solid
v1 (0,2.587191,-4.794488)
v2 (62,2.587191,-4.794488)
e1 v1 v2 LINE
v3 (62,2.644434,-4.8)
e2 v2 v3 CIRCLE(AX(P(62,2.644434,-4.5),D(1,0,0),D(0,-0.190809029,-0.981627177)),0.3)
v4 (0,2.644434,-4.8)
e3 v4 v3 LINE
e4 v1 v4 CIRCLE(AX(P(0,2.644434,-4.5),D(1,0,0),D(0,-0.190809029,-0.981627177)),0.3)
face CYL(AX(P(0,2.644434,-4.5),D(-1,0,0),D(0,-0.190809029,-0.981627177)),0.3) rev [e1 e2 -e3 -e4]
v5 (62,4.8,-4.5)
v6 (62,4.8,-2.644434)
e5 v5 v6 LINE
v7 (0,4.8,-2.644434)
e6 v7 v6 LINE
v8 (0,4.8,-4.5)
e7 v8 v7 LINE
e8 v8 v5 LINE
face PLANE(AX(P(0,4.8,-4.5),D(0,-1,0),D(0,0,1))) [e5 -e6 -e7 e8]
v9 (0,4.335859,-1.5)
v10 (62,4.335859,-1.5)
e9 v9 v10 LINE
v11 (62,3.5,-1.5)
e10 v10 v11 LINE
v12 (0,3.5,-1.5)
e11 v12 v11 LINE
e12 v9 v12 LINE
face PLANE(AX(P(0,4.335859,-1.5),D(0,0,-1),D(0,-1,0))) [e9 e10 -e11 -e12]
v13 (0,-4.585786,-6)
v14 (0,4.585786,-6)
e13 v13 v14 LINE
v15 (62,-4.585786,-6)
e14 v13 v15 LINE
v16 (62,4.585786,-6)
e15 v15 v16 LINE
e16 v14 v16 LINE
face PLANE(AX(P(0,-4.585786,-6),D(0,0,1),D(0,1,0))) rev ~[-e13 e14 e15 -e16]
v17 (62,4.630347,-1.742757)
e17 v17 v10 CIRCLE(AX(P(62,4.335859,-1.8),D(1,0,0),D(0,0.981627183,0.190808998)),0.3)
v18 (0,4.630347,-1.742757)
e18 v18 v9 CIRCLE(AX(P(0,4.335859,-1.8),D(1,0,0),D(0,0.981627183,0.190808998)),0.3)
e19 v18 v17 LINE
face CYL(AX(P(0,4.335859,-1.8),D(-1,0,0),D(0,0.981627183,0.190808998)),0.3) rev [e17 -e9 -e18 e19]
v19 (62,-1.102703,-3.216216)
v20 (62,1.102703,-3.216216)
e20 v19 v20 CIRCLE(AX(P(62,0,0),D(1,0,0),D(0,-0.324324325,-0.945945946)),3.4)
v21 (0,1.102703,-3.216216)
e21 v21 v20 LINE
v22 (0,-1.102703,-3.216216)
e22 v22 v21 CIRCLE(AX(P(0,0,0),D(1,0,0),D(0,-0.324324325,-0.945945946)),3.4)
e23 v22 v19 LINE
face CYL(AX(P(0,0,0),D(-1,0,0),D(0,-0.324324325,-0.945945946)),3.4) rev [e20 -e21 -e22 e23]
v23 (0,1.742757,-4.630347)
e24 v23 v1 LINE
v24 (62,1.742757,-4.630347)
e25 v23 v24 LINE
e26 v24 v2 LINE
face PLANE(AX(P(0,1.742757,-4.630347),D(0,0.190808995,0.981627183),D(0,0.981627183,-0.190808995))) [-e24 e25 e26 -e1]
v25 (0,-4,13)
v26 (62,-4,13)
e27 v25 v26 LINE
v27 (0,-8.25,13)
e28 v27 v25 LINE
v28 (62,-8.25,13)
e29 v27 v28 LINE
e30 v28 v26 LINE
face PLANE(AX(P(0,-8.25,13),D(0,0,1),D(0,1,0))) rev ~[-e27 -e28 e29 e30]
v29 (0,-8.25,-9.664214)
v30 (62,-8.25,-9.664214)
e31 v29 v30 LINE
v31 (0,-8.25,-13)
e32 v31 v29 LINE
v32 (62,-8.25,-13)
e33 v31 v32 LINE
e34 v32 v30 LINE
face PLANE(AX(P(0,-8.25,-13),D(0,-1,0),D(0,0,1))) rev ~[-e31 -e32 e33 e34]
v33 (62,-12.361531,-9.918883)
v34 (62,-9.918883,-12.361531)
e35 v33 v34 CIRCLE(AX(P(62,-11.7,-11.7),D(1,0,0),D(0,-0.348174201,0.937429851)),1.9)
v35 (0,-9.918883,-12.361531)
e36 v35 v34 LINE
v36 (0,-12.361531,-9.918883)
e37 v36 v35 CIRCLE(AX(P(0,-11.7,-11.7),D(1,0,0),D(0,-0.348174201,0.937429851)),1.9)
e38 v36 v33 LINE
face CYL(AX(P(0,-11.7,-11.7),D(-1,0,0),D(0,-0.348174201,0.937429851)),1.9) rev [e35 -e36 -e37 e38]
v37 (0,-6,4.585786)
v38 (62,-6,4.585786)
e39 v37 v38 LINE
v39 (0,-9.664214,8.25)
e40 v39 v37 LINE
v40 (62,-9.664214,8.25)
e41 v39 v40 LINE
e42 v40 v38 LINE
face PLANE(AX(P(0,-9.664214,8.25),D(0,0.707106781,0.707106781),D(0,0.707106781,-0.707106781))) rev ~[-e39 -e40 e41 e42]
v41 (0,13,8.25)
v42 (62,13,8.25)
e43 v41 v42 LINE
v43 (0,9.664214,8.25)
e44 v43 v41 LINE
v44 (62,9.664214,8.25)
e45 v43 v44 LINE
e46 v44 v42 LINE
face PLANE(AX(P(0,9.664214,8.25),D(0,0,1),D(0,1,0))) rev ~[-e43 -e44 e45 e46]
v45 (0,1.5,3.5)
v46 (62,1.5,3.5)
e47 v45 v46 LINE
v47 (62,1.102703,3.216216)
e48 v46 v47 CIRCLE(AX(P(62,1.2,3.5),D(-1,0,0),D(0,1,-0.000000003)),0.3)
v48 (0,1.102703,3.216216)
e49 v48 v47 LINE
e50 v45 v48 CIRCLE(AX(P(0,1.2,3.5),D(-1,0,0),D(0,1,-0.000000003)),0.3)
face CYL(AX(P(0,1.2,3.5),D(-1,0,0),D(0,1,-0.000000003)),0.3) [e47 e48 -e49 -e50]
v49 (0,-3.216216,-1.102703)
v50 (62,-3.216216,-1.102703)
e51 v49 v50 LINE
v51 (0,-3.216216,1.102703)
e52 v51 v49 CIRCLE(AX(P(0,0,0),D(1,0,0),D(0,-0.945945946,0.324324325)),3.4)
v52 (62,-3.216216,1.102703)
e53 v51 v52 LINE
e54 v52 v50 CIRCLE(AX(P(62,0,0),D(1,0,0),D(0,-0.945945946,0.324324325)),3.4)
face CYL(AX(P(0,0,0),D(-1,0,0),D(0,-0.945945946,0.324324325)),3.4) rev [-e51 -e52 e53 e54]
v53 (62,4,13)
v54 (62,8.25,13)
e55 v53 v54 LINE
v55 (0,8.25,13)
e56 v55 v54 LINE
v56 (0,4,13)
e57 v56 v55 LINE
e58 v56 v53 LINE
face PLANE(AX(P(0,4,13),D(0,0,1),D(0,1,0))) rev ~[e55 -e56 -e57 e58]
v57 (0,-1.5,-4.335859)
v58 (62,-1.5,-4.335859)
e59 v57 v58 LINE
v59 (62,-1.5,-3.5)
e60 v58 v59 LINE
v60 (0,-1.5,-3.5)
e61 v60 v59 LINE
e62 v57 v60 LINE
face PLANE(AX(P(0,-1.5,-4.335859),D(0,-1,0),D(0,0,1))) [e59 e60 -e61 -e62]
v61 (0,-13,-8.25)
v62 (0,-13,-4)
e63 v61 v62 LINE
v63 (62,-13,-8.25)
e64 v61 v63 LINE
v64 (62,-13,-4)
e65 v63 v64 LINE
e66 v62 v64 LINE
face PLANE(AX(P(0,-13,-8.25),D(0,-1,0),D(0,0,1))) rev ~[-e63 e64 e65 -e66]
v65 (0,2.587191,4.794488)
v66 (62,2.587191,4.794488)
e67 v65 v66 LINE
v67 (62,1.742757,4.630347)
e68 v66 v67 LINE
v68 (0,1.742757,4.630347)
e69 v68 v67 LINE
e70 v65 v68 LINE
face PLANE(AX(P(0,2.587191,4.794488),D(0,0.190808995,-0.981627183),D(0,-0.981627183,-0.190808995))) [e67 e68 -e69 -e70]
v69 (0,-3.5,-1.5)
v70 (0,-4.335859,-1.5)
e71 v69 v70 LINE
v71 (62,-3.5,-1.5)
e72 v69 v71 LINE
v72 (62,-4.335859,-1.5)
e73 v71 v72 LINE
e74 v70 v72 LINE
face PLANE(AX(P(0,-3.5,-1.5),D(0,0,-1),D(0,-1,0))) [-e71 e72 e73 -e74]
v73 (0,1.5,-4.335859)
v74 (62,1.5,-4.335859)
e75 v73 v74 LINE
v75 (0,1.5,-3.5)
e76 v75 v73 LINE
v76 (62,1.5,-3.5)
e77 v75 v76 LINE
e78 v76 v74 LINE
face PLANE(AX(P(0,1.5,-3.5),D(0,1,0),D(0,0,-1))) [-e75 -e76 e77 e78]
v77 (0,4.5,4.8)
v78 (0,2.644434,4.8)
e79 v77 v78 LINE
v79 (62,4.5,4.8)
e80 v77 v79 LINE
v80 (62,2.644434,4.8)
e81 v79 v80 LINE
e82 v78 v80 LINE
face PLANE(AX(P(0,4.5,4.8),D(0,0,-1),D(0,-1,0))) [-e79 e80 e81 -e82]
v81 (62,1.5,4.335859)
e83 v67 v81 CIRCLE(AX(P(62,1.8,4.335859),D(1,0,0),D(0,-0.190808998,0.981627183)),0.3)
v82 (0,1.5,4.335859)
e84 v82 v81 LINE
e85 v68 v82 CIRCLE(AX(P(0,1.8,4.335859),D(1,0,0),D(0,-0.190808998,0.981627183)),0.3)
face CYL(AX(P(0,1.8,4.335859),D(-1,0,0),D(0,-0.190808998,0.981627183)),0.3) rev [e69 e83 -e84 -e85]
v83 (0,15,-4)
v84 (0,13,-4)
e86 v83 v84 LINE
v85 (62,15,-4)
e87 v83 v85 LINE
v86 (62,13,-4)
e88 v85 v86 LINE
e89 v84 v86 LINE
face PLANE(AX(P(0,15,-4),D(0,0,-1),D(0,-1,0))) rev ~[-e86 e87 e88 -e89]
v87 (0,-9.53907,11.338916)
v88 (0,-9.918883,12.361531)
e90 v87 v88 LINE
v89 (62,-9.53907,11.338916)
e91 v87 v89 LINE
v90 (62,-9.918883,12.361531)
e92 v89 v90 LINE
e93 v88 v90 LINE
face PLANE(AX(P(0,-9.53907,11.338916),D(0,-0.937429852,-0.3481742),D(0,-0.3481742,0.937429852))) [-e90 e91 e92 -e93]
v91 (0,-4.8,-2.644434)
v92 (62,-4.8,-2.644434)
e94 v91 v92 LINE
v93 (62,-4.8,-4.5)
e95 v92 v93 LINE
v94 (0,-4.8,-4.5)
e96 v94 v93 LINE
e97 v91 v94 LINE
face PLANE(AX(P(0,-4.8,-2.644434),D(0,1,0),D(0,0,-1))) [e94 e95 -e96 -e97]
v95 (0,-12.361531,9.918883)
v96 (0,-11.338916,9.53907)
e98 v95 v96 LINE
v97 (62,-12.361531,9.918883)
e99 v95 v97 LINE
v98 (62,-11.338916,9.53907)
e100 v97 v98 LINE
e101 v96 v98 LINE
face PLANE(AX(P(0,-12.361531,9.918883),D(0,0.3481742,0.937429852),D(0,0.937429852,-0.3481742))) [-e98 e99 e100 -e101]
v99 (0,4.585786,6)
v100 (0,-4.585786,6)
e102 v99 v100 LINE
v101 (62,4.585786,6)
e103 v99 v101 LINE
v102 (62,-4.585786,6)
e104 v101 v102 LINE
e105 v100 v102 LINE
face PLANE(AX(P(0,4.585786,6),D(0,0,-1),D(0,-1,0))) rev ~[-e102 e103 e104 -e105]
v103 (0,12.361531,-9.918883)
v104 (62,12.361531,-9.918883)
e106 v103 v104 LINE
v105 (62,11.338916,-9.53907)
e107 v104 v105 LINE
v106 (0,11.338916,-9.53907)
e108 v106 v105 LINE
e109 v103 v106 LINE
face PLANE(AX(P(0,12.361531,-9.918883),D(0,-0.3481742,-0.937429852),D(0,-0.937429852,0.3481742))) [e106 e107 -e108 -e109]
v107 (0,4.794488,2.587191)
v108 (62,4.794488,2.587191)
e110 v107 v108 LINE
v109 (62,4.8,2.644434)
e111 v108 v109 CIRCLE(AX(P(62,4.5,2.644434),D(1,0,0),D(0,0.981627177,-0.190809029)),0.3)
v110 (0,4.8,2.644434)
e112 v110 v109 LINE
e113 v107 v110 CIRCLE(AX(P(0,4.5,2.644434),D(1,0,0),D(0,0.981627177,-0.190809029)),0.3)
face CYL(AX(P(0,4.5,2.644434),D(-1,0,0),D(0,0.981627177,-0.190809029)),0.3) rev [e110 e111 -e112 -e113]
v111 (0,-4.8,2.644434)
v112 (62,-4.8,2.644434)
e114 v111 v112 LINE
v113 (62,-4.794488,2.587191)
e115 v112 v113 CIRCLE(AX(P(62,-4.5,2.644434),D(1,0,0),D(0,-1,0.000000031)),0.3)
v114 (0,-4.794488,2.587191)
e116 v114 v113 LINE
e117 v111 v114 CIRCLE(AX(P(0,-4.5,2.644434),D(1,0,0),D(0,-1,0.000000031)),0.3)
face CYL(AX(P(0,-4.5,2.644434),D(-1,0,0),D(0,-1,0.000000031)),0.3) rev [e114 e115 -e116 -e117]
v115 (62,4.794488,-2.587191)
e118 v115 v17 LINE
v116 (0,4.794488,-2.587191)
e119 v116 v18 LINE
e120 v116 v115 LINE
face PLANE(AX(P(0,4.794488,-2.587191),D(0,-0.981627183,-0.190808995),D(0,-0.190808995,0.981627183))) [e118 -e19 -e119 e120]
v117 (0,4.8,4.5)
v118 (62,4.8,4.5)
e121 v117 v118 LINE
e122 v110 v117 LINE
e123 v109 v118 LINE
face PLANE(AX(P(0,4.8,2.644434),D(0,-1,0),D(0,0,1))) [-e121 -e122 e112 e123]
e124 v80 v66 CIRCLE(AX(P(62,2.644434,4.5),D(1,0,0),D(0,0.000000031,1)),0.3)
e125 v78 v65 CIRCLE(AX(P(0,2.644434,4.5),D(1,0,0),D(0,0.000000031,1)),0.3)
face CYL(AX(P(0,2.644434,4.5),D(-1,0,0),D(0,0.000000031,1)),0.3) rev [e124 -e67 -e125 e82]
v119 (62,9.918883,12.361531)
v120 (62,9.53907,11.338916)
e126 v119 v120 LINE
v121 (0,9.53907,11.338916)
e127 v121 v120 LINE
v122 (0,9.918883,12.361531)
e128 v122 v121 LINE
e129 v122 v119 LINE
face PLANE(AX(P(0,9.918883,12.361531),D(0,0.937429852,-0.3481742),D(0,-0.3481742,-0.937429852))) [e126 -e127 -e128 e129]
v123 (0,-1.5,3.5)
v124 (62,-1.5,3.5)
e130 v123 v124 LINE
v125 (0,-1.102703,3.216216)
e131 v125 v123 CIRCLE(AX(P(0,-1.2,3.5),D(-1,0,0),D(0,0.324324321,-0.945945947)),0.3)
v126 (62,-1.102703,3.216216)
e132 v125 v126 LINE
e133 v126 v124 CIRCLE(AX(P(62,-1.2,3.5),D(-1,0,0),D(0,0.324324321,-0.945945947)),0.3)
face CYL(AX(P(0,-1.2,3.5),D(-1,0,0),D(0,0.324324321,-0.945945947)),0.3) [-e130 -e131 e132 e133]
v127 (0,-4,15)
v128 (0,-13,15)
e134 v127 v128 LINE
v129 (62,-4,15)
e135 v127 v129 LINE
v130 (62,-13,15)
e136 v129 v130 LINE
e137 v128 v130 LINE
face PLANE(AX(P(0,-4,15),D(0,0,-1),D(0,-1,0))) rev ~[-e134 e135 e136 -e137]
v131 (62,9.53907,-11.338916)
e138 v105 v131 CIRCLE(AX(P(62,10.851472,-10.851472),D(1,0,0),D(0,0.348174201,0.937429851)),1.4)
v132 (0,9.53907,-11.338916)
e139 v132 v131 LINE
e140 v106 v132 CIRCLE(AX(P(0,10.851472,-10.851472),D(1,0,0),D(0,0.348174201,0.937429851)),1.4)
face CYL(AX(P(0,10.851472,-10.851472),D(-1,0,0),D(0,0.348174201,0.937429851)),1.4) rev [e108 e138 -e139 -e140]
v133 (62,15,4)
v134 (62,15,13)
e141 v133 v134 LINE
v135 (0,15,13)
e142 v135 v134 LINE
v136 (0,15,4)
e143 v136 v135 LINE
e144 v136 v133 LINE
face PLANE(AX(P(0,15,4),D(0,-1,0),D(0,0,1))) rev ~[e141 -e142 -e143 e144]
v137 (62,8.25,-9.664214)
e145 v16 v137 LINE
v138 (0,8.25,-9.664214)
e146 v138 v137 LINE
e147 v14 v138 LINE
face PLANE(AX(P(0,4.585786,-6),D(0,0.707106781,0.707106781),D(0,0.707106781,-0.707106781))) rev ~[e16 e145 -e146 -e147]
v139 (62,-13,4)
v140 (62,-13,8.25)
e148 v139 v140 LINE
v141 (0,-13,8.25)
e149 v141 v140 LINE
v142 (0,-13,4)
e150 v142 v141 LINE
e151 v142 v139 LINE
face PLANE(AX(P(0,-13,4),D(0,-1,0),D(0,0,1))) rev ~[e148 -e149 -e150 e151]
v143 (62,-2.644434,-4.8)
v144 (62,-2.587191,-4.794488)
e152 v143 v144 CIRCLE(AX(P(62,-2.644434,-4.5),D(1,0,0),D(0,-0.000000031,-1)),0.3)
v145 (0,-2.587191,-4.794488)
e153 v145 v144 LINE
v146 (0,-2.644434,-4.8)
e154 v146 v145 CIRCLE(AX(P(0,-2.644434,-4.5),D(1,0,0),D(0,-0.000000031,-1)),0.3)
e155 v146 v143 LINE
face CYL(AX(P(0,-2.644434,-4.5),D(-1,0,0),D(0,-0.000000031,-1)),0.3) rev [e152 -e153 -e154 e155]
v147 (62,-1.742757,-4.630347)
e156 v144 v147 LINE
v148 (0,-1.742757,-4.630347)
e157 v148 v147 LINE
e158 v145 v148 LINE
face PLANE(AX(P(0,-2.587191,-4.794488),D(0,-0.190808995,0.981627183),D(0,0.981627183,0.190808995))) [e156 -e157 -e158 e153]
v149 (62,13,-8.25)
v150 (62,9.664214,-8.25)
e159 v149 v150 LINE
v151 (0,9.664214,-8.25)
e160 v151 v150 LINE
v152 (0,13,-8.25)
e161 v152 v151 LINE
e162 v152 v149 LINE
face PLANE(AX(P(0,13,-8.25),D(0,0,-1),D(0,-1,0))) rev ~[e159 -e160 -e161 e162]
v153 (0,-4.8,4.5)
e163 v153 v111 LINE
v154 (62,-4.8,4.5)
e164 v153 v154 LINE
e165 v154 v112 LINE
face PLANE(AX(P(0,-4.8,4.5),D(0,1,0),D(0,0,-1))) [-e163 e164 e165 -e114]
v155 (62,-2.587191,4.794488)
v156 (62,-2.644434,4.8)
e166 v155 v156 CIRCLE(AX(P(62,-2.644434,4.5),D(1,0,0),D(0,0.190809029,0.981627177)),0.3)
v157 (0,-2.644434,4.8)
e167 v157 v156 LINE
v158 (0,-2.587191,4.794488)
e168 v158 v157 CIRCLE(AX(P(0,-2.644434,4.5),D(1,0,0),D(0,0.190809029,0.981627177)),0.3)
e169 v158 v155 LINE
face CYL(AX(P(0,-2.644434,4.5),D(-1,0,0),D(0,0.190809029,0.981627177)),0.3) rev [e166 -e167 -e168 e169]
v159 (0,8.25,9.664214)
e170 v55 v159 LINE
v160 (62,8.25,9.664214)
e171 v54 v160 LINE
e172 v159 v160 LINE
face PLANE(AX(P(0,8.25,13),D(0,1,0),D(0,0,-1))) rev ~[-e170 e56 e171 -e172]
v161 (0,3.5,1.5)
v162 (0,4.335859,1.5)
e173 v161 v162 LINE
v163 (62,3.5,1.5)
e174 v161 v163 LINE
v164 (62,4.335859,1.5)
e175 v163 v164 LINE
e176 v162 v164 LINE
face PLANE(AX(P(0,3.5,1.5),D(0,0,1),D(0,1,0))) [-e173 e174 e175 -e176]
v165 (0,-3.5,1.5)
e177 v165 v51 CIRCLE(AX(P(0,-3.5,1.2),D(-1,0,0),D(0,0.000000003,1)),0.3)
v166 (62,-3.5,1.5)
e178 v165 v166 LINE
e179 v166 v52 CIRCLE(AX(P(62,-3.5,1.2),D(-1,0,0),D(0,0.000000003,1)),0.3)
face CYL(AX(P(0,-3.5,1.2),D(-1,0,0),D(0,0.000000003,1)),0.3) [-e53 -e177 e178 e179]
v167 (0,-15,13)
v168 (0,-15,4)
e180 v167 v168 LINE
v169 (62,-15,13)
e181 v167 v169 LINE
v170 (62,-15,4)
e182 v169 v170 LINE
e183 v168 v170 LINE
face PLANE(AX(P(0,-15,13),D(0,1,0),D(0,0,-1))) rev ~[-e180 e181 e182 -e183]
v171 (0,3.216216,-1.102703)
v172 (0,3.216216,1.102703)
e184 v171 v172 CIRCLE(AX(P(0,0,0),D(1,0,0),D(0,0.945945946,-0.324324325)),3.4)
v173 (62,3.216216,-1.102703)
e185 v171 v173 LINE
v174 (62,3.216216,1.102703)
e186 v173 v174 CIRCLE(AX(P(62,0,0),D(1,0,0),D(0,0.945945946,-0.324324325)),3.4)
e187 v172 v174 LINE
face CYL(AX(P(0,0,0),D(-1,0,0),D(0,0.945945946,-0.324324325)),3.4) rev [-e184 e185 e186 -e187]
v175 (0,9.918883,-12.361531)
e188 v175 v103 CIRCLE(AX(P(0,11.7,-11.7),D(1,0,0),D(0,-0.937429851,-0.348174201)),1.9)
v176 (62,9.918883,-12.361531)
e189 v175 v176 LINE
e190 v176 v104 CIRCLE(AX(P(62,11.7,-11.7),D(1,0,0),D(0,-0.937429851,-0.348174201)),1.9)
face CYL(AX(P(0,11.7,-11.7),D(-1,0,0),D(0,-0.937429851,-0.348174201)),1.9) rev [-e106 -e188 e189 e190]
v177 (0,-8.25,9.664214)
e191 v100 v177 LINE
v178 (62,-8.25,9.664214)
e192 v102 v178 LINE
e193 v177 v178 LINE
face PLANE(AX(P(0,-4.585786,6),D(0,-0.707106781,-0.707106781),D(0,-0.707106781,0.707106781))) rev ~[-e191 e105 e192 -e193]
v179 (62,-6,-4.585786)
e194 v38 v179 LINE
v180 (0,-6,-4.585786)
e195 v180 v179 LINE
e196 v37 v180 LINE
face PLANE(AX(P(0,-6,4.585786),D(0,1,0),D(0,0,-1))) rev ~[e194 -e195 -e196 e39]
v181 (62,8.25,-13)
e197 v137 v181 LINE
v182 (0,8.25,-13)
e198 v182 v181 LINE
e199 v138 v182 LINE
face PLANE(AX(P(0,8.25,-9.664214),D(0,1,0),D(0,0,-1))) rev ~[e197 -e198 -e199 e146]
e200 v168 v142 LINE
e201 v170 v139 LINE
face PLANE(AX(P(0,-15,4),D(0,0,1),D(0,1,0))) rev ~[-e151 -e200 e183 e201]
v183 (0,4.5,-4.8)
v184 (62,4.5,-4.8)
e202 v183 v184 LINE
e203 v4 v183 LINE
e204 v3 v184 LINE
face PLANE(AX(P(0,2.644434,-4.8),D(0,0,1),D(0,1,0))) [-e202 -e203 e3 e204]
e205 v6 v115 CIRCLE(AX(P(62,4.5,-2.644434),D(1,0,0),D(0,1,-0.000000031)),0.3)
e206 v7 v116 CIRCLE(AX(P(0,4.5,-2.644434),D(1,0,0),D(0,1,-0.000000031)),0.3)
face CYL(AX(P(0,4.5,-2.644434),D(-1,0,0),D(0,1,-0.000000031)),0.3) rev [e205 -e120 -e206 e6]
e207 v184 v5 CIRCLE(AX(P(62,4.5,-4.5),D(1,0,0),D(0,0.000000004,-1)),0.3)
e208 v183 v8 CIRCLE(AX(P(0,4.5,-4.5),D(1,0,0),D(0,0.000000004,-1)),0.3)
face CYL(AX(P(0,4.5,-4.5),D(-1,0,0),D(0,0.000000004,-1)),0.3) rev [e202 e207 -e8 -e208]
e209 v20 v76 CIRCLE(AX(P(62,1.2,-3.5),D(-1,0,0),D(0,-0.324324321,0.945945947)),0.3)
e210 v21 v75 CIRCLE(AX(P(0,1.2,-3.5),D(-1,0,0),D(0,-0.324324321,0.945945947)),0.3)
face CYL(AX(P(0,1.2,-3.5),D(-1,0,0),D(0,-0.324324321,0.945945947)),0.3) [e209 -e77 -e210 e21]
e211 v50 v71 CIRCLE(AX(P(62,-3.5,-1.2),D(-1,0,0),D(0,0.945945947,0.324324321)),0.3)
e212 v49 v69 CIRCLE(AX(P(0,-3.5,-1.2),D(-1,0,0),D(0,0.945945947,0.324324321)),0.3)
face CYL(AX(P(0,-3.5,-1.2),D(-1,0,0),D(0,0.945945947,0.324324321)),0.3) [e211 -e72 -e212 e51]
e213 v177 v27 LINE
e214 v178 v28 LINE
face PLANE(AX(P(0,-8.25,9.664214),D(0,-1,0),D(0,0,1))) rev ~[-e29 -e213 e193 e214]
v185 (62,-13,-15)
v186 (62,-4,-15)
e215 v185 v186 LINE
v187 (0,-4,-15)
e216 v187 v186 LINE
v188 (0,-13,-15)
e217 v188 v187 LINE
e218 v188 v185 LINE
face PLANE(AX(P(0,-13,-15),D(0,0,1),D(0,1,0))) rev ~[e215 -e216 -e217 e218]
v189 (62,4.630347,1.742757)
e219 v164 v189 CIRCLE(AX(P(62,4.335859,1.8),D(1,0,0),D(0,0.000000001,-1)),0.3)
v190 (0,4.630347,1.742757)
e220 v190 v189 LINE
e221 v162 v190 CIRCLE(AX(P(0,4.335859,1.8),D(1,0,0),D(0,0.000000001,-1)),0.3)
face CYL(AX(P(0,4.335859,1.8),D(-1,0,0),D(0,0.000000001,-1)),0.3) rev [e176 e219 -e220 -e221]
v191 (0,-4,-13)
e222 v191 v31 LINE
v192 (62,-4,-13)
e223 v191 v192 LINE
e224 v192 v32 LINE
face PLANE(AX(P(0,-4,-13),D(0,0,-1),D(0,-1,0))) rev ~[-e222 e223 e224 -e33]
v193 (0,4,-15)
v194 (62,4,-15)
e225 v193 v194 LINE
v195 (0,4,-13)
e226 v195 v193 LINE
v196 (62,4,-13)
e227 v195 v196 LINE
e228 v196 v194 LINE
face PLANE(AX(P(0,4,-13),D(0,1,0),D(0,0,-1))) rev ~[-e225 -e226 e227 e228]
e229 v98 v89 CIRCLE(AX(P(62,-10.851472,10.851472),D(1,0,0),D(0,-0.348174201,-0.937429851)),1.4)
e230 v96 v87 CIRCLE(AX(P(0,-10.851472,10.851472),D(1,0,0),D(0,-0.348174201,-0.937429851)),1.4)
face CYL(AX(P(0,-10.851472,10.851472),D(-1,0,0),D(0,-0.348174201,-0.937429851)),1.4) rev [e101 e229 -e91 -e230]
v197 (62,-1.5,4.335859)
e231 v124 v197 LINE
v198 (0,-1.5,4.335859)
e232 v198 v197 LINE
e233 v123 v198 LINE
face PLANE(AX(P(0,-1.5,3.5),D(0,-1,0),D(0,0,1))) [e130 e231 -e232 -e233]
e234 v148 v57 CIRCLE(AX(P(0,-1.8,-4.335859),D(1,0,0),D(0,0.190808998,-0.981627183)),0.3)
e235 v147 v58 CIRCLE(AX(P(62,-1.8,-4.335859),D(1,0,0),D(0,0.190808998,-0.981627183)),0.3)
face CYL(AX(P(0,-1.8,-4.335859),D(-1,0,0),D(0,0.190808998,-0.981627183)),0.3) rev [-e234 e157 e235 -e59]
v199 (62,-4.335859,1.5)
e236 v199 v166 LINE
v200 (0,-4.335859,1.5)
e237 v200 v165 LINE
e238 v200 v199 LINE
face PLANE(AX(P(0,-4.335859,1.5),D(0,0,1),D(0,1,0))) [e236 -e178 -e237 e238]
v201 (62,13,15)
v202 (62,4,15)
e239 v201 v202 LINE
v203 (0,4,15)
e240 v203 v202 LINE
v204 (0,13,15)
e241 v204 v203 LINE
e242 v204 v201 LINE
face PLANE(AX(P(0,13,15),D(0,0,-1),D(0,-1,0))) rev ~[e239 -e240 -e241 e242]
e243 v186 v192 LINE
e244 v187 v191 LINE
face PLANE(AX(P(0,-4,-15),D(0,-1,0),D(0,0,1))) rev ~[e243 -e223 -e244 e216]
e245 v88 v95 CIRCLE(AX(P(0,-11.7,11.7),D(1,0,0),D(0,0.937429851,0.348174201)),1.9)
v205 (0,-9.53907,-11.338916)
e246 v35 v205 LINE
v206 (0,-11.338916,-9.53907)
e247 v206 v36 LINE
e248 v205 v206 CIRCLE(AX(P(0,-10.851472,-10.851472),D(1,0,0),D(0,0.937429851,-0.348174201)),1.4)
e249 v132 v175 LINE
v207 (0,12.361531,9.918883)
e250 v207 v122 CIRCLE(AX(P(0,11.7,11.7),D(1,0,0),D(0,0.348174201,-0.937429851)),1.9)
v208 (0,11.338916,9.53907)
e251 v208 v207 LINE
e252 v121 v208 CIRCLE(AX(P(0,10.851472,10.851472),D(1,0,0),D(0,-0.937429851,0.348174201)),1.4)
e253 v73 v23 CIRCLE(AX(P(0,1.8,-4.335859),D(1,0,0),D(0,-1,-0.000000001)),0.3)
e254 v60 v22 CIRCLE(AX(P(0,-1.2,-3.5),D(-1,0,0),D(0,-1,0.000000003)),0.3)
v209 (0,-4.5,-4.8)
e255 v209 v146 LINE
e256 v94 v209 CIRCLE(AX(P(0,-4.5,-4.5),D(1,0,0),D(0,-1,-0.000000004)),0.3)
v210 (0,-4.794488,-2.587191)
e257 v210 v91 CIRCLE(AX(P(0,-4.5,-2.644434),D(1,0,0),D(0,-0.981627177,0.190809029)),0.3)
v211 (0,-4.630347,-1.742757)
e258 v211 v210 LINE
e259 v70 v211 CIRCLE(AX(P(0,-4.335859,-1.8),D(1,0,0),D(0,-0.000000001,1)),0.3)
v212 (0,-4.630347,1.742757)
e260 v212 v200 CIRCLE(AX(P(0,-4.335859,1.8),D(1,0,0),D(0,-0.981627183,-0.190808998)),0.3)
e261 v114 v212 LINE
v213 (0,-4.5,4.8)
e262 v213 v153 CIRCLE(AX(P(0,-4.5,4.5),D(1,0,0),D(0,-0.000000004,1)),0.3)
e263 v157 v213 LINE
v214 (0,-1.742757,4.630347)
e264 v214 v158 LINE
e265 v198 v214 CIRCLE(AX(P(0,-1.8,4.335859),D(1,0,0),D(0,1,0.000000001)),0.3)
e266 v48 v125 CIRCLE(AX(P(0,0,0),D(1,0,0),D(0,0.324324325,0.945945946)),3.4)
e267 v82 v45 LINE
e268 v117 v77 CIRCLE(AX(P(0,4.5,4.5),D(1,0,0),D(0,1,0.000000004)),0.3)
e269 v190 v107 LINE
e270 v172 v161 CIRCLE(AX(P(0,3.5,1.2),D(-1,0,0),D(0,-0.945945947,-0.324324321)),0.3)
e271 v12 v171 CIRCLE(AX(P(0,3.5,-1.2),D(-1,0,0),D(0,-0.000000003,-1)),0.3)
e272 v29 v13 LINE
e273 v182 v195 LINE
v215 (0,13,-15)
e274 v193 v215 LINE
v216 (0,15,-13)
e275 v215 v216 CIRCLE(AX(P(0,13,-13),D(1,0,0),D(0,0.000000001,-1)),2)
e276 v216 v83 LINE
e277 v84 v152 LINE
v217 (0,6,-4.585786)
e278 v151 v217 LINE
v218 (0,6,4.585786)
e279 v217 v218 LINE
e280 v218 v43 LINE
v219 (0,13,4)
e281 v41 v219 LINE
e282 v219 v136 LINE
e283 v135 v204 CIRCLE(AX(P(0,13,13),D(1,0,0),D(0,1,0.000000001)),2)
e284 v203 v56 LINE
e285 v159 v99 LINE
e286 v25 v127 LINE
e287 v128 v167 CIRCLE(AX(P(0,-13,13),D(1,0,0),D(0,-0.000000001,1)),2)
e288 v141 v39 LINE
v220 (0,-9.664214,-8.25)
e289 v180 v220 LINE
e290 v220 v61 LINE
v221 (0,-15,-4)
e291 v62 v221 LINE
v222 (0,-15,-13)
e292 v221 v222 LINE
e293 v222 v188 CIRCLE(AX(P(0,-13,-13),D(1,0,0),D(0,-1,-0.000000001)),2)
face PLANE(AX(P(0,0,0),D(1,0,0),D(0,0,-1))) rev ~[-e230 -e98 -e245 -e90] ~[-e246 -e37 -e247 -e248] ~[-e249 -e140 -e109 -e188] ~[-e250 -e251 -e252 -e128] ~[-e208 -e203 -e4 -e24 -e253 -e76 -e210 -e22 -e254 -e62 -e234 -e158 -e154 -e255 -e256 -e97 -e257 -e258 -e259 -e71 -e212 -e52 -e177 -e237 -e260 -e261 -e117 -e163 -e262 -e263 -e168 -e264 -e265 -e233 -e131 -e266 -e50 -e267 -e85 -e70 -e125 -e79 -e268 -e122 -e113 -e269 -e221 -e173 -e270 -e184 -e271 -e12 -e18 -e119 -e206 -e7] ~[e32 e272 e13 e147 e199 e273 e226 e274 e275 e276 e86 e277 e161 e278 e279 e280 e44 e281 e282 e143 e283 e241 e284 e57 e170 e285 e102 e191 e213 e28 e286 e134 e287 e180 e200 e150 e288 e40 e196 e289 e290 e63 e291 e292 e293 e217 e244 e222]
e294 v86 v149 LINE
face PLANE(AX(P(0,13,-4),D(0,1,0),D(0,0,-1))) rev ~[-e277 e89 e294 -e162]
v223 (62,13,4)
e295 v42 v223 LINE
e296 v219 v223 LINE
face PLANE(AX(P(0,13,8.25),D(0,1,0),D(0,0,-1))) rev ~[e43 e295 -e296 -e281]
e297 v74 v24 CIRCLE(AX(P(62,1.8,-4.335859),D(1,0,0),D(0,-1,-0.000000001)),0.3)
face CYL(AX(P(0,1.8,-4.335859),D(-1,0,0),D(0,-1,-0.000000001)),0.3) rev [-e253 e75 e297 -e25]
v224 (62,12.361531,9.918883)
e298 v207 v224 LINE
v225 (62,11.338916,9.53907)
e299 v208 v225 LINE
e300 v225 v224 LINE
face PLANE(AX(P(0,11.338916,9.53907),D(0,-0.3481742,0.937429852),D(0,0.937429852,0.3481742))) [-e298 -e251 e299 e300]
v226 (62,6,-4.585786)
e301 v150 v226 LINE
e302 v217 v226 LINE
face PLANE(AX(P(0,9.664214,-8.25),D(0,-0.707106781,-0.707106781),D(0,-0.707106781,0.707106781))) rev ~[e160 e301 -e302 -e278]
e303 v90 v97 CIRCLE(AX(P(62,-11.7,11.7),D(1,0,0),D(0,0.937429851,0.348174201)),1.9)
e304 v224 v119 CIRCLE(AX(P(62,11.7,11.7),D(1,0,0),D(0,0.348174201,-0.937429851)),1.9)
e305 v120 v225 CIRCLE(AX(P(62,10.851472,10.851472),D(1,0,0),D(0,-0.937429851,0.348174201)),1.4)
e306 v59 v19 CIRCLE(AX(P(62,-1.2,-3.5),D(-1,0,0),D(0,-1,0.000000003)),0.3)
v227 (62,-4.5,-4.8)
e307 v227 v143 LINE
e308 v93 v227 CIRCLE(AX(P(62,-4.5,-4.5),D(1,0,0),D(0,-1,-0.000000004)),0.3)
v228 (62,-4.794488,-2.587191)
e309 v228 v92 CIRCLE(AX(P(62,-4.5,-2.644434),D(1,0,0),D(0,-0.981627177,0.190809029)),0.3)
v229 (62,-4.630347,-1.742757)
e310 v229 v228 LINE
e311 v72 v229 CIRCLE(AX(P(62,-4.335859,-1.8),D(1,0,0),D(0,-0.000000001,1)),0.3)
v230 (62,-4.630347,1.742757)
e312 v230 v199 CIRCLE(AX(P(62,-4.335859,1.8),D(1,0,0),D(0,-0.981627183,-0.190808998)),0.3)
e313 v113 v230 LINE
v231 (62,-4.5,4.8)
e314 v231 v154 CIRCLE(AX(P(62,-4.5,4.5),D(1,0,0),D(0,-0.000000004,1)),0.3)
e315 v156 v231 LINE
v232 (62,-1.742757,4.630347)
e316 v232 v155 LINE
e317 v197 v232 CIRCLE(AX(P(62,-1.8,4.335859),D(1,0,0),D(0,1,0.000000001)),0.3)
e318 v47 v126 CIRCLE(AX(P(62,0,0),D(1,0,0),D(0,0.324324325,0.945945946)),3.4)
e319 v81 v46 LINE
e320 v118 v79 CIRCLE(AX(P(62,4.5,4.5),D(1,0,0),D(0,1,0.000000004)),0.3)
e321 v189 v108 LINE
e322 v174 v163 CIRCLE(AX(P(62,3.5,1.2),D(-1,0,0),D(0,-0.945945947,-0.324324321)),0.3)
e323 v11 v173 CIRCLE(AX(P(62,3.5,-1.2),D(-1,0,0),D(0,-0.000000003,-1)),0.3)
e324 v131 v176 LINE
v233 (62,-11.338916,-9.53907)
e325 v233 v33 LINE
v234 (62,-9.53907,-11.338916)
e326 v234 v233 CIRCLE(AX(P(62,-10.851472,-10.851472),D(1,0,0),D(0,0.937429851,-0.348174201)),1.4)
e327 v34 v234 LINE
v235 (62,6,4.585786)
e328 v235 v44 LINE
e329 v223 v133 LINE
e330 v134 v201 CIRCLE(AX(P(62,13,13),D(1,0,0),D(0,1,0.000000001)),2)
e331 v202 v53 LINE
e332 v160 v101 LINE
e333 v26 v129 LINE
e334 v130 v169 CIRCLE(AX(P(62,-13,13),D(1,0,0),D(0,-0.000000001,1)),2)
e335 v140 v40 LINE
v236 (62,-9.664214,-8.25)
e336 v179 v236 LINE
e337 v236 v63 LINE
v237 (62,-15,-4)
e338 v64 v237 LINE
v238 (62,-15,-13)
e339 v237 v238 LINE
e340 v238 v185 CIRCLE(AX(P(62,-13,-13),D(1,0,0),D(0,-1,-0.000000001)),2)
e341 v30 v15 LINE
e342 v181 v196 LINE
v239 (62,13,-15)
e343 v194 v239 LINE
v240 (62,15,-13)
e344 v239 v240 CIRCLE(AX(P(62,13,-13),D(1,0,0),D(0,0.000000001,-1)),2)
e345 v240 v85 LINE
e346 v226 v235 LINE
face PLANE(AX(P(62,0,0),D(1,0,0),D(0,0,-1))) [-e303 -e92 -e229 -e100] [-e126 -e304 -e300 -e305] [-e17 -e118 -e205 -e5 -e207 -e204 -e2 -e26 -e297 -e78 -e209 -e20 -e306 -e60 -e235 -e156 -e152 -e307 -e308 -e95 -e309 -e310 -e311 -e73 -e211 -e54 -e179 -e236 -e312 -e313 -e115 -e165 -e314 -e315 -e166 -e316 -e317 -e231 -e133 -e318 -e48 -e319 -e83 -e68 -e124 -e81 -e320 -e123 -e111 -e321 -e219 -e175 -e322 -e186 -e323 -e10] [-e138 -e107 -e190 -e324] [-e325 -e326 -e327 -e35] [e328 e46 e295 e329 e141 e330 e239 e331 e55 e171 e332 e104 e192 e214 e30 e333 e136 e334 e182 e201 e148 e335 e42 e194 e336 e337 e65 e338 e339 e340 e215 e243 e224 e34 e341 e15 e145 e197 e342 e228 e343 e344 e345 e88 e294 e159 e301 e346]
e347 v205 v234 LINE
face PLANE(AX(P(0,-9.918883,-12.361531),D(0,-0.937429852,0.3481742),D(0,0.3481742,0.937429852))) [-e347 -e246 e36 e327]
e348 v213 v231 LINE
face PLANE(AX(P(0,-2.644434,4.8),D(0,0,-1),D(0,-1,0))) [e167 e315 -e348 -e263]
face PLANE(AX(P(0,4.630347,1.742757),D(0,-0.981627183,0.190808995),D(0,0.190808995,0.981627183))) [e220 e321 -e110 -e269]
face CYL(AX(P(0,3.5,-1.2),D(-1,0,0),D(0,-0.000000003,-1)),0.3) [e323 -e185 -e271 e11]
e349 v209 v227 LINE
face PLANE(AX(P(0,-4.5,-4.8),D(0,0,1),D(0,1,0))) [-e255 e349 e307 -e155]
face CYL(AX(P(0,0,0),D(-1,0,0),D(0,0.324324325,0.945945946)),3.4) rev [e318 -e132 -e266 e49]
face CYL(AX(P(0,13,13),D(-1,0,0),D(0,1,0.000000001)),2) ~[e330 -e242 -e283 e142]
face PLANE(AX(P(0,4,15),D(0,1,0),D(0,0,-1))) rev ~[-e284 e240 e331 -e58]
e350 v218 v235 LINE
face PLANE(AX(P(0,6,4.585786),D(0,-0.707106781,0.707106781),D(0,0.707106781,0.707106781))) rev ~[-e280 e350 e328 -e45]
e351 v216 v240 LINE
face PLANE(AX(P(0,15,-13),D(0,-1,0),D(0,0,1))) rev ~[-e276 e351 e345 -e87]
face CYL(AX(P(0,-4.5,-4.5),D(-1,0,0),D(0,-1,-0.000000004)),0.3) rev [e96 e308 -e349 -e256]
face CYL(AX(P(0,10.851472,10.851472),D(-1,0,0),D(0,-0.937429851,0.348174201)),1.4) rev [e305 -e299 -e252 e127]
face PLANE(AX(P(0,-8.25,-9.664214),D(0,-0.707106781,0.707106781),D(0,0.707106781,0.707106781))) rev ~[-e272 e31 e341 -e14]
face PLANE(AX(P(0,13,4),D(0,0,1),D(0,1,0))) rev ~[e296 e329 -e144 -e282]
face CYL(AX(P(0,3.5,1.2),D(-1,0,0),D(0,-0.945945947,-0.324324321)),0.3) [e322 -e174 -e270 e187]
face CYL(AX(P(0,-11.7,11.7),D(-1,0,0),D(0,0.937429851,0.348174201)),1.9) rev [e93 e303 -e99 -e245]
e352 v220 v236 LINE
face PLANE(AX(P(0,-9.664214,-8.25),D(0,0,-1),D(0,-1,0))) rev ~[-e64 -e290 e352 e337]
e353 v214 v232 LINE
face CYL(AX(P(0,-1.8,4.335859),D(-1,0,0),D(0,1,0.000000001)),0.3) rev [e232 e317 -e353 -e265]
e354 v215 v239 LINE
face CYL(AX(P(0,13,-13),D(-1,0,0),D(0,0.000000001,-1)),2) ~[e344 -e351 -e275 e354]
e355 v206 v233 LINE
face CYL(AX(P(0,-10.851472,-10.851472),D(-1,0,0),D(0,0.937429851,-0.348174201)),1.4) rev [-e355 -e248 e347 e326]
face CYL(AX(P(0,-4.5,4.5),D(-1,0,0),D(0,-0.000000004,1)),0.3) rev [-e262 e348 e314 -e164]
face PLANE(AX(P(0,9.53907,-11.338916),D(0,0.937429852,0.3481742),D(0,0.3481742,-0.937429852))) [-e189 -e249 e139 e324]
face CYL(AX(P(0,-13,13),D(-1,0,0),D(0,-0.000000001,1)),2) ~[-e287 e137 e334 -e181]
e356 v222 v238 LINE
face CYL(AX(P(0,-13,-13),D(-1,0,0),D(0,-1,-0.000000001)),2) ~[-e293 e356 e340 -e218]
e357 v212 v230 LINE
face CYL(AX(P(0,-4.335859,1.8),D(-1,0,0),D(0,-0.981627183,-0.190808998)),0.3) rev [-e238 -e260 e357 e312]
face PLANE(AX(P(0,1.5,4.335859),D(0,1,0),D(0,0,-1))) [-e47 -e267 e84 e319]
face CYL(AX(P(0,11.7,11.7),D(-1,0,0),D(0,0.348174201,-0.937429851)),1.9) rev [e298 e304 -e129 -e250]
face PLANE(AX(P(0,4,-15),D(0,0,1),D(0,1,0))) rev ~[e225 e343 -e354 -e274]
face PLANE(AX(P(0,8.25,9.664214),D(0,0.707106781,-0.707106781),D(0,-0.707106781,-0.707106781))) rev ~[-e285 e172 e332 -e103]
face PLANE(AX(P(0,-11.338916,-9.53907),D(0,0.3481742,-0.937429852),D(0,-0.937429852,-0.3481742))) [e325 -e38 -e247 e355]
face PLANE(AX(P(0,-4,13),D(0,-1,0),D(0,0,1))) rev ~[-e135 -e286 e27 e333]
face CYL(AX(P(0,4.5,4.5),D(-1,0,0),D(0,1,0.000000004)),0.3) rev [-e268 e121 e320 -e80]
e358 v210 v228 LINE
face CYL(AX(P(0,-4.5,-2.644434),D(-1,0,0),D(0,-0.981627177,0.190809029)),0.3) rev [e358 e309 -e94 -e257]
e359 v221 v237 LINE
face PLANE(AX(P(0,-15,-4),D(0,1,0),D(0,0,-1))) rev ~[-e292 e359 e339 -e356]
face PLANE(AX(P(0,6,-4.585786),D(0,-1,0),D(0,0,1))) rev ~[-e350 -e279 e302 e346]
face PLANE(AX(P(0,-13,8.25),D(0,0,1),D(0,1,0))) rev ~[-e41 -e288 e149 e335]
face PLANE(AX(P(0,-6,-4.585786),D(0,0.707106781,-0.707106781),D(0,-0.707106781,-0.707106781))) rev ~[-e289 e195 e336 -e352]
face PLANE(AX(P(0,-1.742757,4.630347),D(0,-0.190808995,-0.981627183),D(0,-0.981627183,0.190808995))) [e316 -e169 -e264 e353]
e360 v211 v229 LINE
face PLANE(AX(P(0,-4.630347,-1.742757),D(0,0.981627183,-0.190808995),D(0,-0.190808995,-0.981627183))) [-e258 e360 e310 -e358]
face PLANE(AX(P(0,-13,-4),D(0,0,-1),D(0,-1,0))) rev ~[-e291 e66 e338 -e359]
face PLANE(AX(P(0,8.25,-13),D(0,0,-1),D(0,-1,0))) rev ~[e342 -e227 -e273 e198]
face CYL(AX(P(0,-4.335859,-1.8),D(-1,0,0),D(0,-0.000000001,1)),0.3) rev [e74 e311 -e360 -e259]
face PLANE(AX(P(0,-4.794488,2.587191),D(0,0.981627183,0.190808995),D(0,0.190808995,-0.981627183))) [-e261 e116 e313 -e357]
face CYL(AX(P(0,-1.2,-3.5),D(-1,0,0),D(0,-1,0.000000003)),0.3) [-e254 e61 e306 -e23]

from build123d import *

# Parameters (mm, degrees)
BOSS_EXTRUDE1_DEPTH = 62


with BuildPart() as part:
    # Sketch1 → Boss-Extrude1 (new body)
    with BuildSketch(Plane(origin=(0, 0, 0), x_dir=(0, 0, -1), z_dir=(1, 0, 0))):
        with BuildLine():
            Line((-15, 13), (-15, 4))
            Line((-15, 4), (-13, 4))
            Line((-13, 4), (-13, 8.25))
            Line((-13, 8.25), (-9.664213562, 8.25))
            Line((-9.664213562, 8.25), (-6, 4.585786438))
            Line((-6, 4.585786438), (-6, -4.585786438))
            Line((-6, -4.585786438), (-9.664213562, -8.25))
            Line((-9.664213562, -8.25), (-13, -8.25))
            Line((-13, -8.25), (-13, -4))
            Line((-13, -4), (-15, -4))
            Line((-15, -4), (-15, -13))
            ThreePointArc((-15, -13), (-14.414213562, -14.414213562), (-13, -15))
            Line((-13, -15), (-4, -15))
            Line((-4, -15), (-4, -13))
            Line((-4, -13), (-8.25, -13))
            Line((-8.25, -13), (-8.25, -9.664213562))
            Line((-8.25, -9.664213562), (-4.585786438, -6))
            Line((-4.585786438, -6), (4.585786438, -6))
            Line((4.585786438, -6), (8.25, -9.664213562))
            Line((8.25, -9.664213562), (8.25, -13))
            Line((8.25, -13), (4, -13))
            Line((4, -13), (4, -15))
            Line((4, -15), (13, -15))
            ThreePointArc((13, -15), (14.414213562, -14.414213562), (15, -13))
            Line((15, -13), (15, -4))
            Line((15, -4), (13, -4))
            Line((13, -4), (13, -8.25))
            Line((13, -8.25), (9.664213562, -8.25))
            Line((9.664213562, -8.25), (6, -4.585786438))
            Line((6, -4.585786438), (6, 4.585786438))
            Line((6, 4.585786438), (9.664213562, 8.25))
            Line((9.664213562, 8.25), (13, 8.25))
            Line((13, 8.25), (13, 4))
            Line((13, 4), (15, 4))
            Line((15, 4), (15, 13))
            ThreePointArc((15, 13), (14.414213562, 14.414213562), (13, 15))
            Line((13, 15), (4, 15))
            Line((4, 15), (4, 13))
            Line((4, 13), (8.25, 13))
            Line((8.25, 13), (8.25, 9.664213562))
            Line((8.25, 9.664213562), (4.585786438, 6))
            Line((4.585786438, 6), (-4.585786438, 6))
            Line((-4.585786438, 6), (-8.25, 9.664213562))
            Line((-8.25, 9.664213562), (-8.25, 13))
            Line((-8.25, 13), (-4, 13))
            Line((-4, 13), (-4, 15))
            Line((-4, 15), (-13, 15))
            ThreePointArc((-13, 15), (-14.414213562, 14.414213562), (-15, 13))
        make_face()
        with BuildLine():
            Line((-9.539070071, 11.338915743), (-9.918883282, 12.361530981))
            ThreePointArc((-9.918883282, 12.361530981), (-13.043502884, 13.043502884), (-12.361530981, 9.918883282))
            Line((-12.361530981, 9.918883282), (-11.338915743, 9.539070071))
            ThreePointArc((-11.338915743, 9.539070071), (-9.861522369, 9.861522369), (-9.539070071, 11.338915743))
        make_face(mode=Mode.SUBTRACT)
        with BuildLine():
            Line((9.918883282, 12.361530981), (9.539070071, 11.338915743))
            ThreePointArc((9.539070071, 11.338915743), (9.861522369, 9.861522369), (11.338915743, 9.539070071))
            Line((11.338915743, 9.539070071), (12.361530981, 9.918883282))
            ThreePointArc((12.361530981, 9.918883282), (13.043502884, 13.043502884), (9.918883282, 12.361530981))
        make_face(mode=Mode.SUBTRACT)
        with BuildLine():
            Line((12.361530981, -9.918883282), (11.338915743, -9.539070071))
            ThreePointArc((11.338915743, -9.539070071), (9.861522369, -9.861522369), (9.539070071, -11.338915743))
            Line((9.539070071, -11.338915743), (9.918883282, -12.361530981))
            ThreePointArc((9.918883282, -12.361530981), (13.043502884, -13.043502884), (12.361530981, -9.918883282))
        make_face(mode=Mode.SUBTRACT)
        with BuildLine():
            Line((-11.338915743, -9.539070071), (-12.361530981, -9.918883282))
            ThreePointArc((-12.361530981, -9.918883282), (-13.043502884, -13.043502884), (-9.918883282, -12.361530981))
            Line((-9.918883282, -12.361530981), (-9.539070071, -11.338915743))
            ThreePointArc((-9.539070071, -11.338915743), (-9.861522369, -9.861522369), (-11.338915743, -9.539070071))
        make_face(mode=Mode.SUBTRACT)
        with BuildLine():
            Line((-4.8, -2.644433572), (-4.8, -4.5))
            ThreePointArc((-4.8, -4.5), (-4.712132034, -4.712132034), (-4.5, -4.8))
            Line((-4.5, -4.8), (-2.644433572, -4.8))
            ThreePointArc((-2.644433572, -4.8), (-2.615679847, -4.79861886), (-2.587190874, -4.794488155))
            Line((-2.587190874, -4.794488155), (-1.742757301, -4.630346896))
            ThreePointArc((-1.742757301, -4.630346896), (-1.568512625, -4.526682207), (-1.5, -4.335858741))
            Line((-1.5, -4.335858741), (-1.5, -3.5))
            ThreePointArc((-1.5, -3.5), (-1.374371458, -3.255879959), (-1.102702703, -3.216216216))
            ThreePointArc((-1.102702703, -3.216216216), (0, -3.4), (1.102702703, -3.216216216))
            ThreePointArc((1.102702703, -3.216216216), (1.374371458, -3.255879959), (1.5, -3.5))
            Line((1.5, -3.5), (1.5, -4.335858741))
            ThreePointArc((1.5, -4.335858741), (1.568512625, -4.526682207), (1.742757301, -4.630346896))
            Line((1.742757301, -4.630346896), (2.587190874, -4.794488155))
            ThreePointArc((2.587190874, -4.794488155), (2.615679847, -4.79861886), (2.644433572, -4.8))
            Line((2.644433572, -4.8), (4.5, -4.8))
            ThreePointArc((4.5, -4.8), (4.712132034, -4.712132034), (4.8, -4.5))
            Line((4.8, -4.5), (4.8, -2.644433572))
            ThreePointArc((4.8, -2.644433572), (4.79861886, -2.615679847), (4.794488155, -2.587190874))
            Line((4.794488155, -2.587190874), (4.630346896, -1.742757301))
            ThreePointArc((4.630346896, -1.742757301), (4.526682207, -1.568512625), (4.335858741, -1.5))
            Line((4.335858741, -1.5), (3.5, -1.5))
            ThreePointArc((3.5, -1.5), (3.255879959, -1.374371458), (3.216216216, -1.102702703))
            ThreePointArc((3.216216216, -1.102702703), (3.4, 0), (3.216216216, 1.102702703))
            ThreePointArc((3.216216216, 1.102702703), (3.255879959, 1.374371458), (3.5, 1.5))
            Line((3.5, 1.5), (4.335858741, 1.5))
            ThreePointArc((4.335858741, 1.5), (4.526682207, 1.568512625), (4.630346896, 1.742757301))
            Line((4.630346896, 1.742757301), (4.794488155, 2.587190874))
            ThreePointArc((4.794488155, 2.587190874), (4.79861886, 2.615679847), (4.8, 2.644433572))
            Line((4.8, 2.644433572), (4.8, 4.5))
            ThreePointArc((4.8, 4.5), (4.712132034, 4.712132034), (4.5, 4.8))
            Line((4.5, 4.8), (2.644433572, 4.8))
            ThreePointArc((2.644433572, 4.8), (2.615679847, 4.79861886), (2.587190874, 4.794488155))
            Line((2.587190874, 4.794488155), (1.742757301, 4.630346896))
            ThreePointArc((1.742757301, 4.630346896), (1.568512625, 4.526682207), (1.5, 4.335858741))
            Line((1.5, 4.335858741), (1.5, 3.5))
            ThreePointArc((1.5, 3.5), (1.374371458, 3.255879959), (1.102702703, 3.216216216))
            ThreePointArc((1.102702703, 3.216216216), (0, 3.4), (-1.102702703, 3.216216216))
            ThreePointArc((-1.102702703, 3.216216216), (-1.374371458, 3.255879959), (-1.5, 3.5))
            Line((-1.5, 3.5), (-1.5, 4.335858741))
            ThreePointArc((-1.5, 4.335858741), (-1.568512625, 4.526682207), (-1.742757301, 4.630346896))
            Line((-1.742757301, 4.630346896), (-2.587190874, 4.794488155))
            ThreePointArc((-2.587190874, 4.794488155), (-2.615679847, 4.79861886), (-2.644433572, 4.8))
            Line((-2.644433572, 4.8), (-4.5, 4.8))
            ThreePointArc((-4.5, 4.8), (-4.712132034, 4.712132034), (-4.8, 4.5))
            Line((-4.8, 4.5), (-4.8, 2.644433572))
            ThreePointArc((-4.8, 2.644433572), (-4.79861886, 2.615679847), (-4.794488155, 2.587190874))
            Line((-4.794488155, 2.587190874), (-4.630346896, 1.742757301))
            ThreePointArc((-4.630346896, 1.742757301), (-4.526682207, 1.568512625), (-4.335858741, 1.5))
            Line((-4.335858741, 1.5), (-3.5, 1.5))
            ThreePointArc((-3.5, 1.5), (-3.255879959, 1.374371458), (-3.216216216, 1.102702703))
            ThreePointArc((-3.216216216, 1.102702703), (-3.4, 0), (-3.216216216, -1.102702703))
            ThreePointArc((-3.216216216, -1.102702703), (-3.255879959, -1.374371458), (-3.5, -1.5))
            Line((-3.5, -1.5), (-4.335858741, -1.5))
            ThreePointArc((-4.335858741, -1.5), (-4.526682207, -1.568512625), (-4.630346896, -1.742757301))
            Line((-4.630346896, -1.742757301), (-4.794488155, -2.587190874))
            ThreePointArc((-4.794488155, -2.587190874), (-4.79861886, -2.615679847), (-4.8, -2.644433572))
        make_face(mode=Mode.SUBTRACT)
    extrude(amount=BOSS_EXTRUDE1_DEPTH)


solid = part.part
